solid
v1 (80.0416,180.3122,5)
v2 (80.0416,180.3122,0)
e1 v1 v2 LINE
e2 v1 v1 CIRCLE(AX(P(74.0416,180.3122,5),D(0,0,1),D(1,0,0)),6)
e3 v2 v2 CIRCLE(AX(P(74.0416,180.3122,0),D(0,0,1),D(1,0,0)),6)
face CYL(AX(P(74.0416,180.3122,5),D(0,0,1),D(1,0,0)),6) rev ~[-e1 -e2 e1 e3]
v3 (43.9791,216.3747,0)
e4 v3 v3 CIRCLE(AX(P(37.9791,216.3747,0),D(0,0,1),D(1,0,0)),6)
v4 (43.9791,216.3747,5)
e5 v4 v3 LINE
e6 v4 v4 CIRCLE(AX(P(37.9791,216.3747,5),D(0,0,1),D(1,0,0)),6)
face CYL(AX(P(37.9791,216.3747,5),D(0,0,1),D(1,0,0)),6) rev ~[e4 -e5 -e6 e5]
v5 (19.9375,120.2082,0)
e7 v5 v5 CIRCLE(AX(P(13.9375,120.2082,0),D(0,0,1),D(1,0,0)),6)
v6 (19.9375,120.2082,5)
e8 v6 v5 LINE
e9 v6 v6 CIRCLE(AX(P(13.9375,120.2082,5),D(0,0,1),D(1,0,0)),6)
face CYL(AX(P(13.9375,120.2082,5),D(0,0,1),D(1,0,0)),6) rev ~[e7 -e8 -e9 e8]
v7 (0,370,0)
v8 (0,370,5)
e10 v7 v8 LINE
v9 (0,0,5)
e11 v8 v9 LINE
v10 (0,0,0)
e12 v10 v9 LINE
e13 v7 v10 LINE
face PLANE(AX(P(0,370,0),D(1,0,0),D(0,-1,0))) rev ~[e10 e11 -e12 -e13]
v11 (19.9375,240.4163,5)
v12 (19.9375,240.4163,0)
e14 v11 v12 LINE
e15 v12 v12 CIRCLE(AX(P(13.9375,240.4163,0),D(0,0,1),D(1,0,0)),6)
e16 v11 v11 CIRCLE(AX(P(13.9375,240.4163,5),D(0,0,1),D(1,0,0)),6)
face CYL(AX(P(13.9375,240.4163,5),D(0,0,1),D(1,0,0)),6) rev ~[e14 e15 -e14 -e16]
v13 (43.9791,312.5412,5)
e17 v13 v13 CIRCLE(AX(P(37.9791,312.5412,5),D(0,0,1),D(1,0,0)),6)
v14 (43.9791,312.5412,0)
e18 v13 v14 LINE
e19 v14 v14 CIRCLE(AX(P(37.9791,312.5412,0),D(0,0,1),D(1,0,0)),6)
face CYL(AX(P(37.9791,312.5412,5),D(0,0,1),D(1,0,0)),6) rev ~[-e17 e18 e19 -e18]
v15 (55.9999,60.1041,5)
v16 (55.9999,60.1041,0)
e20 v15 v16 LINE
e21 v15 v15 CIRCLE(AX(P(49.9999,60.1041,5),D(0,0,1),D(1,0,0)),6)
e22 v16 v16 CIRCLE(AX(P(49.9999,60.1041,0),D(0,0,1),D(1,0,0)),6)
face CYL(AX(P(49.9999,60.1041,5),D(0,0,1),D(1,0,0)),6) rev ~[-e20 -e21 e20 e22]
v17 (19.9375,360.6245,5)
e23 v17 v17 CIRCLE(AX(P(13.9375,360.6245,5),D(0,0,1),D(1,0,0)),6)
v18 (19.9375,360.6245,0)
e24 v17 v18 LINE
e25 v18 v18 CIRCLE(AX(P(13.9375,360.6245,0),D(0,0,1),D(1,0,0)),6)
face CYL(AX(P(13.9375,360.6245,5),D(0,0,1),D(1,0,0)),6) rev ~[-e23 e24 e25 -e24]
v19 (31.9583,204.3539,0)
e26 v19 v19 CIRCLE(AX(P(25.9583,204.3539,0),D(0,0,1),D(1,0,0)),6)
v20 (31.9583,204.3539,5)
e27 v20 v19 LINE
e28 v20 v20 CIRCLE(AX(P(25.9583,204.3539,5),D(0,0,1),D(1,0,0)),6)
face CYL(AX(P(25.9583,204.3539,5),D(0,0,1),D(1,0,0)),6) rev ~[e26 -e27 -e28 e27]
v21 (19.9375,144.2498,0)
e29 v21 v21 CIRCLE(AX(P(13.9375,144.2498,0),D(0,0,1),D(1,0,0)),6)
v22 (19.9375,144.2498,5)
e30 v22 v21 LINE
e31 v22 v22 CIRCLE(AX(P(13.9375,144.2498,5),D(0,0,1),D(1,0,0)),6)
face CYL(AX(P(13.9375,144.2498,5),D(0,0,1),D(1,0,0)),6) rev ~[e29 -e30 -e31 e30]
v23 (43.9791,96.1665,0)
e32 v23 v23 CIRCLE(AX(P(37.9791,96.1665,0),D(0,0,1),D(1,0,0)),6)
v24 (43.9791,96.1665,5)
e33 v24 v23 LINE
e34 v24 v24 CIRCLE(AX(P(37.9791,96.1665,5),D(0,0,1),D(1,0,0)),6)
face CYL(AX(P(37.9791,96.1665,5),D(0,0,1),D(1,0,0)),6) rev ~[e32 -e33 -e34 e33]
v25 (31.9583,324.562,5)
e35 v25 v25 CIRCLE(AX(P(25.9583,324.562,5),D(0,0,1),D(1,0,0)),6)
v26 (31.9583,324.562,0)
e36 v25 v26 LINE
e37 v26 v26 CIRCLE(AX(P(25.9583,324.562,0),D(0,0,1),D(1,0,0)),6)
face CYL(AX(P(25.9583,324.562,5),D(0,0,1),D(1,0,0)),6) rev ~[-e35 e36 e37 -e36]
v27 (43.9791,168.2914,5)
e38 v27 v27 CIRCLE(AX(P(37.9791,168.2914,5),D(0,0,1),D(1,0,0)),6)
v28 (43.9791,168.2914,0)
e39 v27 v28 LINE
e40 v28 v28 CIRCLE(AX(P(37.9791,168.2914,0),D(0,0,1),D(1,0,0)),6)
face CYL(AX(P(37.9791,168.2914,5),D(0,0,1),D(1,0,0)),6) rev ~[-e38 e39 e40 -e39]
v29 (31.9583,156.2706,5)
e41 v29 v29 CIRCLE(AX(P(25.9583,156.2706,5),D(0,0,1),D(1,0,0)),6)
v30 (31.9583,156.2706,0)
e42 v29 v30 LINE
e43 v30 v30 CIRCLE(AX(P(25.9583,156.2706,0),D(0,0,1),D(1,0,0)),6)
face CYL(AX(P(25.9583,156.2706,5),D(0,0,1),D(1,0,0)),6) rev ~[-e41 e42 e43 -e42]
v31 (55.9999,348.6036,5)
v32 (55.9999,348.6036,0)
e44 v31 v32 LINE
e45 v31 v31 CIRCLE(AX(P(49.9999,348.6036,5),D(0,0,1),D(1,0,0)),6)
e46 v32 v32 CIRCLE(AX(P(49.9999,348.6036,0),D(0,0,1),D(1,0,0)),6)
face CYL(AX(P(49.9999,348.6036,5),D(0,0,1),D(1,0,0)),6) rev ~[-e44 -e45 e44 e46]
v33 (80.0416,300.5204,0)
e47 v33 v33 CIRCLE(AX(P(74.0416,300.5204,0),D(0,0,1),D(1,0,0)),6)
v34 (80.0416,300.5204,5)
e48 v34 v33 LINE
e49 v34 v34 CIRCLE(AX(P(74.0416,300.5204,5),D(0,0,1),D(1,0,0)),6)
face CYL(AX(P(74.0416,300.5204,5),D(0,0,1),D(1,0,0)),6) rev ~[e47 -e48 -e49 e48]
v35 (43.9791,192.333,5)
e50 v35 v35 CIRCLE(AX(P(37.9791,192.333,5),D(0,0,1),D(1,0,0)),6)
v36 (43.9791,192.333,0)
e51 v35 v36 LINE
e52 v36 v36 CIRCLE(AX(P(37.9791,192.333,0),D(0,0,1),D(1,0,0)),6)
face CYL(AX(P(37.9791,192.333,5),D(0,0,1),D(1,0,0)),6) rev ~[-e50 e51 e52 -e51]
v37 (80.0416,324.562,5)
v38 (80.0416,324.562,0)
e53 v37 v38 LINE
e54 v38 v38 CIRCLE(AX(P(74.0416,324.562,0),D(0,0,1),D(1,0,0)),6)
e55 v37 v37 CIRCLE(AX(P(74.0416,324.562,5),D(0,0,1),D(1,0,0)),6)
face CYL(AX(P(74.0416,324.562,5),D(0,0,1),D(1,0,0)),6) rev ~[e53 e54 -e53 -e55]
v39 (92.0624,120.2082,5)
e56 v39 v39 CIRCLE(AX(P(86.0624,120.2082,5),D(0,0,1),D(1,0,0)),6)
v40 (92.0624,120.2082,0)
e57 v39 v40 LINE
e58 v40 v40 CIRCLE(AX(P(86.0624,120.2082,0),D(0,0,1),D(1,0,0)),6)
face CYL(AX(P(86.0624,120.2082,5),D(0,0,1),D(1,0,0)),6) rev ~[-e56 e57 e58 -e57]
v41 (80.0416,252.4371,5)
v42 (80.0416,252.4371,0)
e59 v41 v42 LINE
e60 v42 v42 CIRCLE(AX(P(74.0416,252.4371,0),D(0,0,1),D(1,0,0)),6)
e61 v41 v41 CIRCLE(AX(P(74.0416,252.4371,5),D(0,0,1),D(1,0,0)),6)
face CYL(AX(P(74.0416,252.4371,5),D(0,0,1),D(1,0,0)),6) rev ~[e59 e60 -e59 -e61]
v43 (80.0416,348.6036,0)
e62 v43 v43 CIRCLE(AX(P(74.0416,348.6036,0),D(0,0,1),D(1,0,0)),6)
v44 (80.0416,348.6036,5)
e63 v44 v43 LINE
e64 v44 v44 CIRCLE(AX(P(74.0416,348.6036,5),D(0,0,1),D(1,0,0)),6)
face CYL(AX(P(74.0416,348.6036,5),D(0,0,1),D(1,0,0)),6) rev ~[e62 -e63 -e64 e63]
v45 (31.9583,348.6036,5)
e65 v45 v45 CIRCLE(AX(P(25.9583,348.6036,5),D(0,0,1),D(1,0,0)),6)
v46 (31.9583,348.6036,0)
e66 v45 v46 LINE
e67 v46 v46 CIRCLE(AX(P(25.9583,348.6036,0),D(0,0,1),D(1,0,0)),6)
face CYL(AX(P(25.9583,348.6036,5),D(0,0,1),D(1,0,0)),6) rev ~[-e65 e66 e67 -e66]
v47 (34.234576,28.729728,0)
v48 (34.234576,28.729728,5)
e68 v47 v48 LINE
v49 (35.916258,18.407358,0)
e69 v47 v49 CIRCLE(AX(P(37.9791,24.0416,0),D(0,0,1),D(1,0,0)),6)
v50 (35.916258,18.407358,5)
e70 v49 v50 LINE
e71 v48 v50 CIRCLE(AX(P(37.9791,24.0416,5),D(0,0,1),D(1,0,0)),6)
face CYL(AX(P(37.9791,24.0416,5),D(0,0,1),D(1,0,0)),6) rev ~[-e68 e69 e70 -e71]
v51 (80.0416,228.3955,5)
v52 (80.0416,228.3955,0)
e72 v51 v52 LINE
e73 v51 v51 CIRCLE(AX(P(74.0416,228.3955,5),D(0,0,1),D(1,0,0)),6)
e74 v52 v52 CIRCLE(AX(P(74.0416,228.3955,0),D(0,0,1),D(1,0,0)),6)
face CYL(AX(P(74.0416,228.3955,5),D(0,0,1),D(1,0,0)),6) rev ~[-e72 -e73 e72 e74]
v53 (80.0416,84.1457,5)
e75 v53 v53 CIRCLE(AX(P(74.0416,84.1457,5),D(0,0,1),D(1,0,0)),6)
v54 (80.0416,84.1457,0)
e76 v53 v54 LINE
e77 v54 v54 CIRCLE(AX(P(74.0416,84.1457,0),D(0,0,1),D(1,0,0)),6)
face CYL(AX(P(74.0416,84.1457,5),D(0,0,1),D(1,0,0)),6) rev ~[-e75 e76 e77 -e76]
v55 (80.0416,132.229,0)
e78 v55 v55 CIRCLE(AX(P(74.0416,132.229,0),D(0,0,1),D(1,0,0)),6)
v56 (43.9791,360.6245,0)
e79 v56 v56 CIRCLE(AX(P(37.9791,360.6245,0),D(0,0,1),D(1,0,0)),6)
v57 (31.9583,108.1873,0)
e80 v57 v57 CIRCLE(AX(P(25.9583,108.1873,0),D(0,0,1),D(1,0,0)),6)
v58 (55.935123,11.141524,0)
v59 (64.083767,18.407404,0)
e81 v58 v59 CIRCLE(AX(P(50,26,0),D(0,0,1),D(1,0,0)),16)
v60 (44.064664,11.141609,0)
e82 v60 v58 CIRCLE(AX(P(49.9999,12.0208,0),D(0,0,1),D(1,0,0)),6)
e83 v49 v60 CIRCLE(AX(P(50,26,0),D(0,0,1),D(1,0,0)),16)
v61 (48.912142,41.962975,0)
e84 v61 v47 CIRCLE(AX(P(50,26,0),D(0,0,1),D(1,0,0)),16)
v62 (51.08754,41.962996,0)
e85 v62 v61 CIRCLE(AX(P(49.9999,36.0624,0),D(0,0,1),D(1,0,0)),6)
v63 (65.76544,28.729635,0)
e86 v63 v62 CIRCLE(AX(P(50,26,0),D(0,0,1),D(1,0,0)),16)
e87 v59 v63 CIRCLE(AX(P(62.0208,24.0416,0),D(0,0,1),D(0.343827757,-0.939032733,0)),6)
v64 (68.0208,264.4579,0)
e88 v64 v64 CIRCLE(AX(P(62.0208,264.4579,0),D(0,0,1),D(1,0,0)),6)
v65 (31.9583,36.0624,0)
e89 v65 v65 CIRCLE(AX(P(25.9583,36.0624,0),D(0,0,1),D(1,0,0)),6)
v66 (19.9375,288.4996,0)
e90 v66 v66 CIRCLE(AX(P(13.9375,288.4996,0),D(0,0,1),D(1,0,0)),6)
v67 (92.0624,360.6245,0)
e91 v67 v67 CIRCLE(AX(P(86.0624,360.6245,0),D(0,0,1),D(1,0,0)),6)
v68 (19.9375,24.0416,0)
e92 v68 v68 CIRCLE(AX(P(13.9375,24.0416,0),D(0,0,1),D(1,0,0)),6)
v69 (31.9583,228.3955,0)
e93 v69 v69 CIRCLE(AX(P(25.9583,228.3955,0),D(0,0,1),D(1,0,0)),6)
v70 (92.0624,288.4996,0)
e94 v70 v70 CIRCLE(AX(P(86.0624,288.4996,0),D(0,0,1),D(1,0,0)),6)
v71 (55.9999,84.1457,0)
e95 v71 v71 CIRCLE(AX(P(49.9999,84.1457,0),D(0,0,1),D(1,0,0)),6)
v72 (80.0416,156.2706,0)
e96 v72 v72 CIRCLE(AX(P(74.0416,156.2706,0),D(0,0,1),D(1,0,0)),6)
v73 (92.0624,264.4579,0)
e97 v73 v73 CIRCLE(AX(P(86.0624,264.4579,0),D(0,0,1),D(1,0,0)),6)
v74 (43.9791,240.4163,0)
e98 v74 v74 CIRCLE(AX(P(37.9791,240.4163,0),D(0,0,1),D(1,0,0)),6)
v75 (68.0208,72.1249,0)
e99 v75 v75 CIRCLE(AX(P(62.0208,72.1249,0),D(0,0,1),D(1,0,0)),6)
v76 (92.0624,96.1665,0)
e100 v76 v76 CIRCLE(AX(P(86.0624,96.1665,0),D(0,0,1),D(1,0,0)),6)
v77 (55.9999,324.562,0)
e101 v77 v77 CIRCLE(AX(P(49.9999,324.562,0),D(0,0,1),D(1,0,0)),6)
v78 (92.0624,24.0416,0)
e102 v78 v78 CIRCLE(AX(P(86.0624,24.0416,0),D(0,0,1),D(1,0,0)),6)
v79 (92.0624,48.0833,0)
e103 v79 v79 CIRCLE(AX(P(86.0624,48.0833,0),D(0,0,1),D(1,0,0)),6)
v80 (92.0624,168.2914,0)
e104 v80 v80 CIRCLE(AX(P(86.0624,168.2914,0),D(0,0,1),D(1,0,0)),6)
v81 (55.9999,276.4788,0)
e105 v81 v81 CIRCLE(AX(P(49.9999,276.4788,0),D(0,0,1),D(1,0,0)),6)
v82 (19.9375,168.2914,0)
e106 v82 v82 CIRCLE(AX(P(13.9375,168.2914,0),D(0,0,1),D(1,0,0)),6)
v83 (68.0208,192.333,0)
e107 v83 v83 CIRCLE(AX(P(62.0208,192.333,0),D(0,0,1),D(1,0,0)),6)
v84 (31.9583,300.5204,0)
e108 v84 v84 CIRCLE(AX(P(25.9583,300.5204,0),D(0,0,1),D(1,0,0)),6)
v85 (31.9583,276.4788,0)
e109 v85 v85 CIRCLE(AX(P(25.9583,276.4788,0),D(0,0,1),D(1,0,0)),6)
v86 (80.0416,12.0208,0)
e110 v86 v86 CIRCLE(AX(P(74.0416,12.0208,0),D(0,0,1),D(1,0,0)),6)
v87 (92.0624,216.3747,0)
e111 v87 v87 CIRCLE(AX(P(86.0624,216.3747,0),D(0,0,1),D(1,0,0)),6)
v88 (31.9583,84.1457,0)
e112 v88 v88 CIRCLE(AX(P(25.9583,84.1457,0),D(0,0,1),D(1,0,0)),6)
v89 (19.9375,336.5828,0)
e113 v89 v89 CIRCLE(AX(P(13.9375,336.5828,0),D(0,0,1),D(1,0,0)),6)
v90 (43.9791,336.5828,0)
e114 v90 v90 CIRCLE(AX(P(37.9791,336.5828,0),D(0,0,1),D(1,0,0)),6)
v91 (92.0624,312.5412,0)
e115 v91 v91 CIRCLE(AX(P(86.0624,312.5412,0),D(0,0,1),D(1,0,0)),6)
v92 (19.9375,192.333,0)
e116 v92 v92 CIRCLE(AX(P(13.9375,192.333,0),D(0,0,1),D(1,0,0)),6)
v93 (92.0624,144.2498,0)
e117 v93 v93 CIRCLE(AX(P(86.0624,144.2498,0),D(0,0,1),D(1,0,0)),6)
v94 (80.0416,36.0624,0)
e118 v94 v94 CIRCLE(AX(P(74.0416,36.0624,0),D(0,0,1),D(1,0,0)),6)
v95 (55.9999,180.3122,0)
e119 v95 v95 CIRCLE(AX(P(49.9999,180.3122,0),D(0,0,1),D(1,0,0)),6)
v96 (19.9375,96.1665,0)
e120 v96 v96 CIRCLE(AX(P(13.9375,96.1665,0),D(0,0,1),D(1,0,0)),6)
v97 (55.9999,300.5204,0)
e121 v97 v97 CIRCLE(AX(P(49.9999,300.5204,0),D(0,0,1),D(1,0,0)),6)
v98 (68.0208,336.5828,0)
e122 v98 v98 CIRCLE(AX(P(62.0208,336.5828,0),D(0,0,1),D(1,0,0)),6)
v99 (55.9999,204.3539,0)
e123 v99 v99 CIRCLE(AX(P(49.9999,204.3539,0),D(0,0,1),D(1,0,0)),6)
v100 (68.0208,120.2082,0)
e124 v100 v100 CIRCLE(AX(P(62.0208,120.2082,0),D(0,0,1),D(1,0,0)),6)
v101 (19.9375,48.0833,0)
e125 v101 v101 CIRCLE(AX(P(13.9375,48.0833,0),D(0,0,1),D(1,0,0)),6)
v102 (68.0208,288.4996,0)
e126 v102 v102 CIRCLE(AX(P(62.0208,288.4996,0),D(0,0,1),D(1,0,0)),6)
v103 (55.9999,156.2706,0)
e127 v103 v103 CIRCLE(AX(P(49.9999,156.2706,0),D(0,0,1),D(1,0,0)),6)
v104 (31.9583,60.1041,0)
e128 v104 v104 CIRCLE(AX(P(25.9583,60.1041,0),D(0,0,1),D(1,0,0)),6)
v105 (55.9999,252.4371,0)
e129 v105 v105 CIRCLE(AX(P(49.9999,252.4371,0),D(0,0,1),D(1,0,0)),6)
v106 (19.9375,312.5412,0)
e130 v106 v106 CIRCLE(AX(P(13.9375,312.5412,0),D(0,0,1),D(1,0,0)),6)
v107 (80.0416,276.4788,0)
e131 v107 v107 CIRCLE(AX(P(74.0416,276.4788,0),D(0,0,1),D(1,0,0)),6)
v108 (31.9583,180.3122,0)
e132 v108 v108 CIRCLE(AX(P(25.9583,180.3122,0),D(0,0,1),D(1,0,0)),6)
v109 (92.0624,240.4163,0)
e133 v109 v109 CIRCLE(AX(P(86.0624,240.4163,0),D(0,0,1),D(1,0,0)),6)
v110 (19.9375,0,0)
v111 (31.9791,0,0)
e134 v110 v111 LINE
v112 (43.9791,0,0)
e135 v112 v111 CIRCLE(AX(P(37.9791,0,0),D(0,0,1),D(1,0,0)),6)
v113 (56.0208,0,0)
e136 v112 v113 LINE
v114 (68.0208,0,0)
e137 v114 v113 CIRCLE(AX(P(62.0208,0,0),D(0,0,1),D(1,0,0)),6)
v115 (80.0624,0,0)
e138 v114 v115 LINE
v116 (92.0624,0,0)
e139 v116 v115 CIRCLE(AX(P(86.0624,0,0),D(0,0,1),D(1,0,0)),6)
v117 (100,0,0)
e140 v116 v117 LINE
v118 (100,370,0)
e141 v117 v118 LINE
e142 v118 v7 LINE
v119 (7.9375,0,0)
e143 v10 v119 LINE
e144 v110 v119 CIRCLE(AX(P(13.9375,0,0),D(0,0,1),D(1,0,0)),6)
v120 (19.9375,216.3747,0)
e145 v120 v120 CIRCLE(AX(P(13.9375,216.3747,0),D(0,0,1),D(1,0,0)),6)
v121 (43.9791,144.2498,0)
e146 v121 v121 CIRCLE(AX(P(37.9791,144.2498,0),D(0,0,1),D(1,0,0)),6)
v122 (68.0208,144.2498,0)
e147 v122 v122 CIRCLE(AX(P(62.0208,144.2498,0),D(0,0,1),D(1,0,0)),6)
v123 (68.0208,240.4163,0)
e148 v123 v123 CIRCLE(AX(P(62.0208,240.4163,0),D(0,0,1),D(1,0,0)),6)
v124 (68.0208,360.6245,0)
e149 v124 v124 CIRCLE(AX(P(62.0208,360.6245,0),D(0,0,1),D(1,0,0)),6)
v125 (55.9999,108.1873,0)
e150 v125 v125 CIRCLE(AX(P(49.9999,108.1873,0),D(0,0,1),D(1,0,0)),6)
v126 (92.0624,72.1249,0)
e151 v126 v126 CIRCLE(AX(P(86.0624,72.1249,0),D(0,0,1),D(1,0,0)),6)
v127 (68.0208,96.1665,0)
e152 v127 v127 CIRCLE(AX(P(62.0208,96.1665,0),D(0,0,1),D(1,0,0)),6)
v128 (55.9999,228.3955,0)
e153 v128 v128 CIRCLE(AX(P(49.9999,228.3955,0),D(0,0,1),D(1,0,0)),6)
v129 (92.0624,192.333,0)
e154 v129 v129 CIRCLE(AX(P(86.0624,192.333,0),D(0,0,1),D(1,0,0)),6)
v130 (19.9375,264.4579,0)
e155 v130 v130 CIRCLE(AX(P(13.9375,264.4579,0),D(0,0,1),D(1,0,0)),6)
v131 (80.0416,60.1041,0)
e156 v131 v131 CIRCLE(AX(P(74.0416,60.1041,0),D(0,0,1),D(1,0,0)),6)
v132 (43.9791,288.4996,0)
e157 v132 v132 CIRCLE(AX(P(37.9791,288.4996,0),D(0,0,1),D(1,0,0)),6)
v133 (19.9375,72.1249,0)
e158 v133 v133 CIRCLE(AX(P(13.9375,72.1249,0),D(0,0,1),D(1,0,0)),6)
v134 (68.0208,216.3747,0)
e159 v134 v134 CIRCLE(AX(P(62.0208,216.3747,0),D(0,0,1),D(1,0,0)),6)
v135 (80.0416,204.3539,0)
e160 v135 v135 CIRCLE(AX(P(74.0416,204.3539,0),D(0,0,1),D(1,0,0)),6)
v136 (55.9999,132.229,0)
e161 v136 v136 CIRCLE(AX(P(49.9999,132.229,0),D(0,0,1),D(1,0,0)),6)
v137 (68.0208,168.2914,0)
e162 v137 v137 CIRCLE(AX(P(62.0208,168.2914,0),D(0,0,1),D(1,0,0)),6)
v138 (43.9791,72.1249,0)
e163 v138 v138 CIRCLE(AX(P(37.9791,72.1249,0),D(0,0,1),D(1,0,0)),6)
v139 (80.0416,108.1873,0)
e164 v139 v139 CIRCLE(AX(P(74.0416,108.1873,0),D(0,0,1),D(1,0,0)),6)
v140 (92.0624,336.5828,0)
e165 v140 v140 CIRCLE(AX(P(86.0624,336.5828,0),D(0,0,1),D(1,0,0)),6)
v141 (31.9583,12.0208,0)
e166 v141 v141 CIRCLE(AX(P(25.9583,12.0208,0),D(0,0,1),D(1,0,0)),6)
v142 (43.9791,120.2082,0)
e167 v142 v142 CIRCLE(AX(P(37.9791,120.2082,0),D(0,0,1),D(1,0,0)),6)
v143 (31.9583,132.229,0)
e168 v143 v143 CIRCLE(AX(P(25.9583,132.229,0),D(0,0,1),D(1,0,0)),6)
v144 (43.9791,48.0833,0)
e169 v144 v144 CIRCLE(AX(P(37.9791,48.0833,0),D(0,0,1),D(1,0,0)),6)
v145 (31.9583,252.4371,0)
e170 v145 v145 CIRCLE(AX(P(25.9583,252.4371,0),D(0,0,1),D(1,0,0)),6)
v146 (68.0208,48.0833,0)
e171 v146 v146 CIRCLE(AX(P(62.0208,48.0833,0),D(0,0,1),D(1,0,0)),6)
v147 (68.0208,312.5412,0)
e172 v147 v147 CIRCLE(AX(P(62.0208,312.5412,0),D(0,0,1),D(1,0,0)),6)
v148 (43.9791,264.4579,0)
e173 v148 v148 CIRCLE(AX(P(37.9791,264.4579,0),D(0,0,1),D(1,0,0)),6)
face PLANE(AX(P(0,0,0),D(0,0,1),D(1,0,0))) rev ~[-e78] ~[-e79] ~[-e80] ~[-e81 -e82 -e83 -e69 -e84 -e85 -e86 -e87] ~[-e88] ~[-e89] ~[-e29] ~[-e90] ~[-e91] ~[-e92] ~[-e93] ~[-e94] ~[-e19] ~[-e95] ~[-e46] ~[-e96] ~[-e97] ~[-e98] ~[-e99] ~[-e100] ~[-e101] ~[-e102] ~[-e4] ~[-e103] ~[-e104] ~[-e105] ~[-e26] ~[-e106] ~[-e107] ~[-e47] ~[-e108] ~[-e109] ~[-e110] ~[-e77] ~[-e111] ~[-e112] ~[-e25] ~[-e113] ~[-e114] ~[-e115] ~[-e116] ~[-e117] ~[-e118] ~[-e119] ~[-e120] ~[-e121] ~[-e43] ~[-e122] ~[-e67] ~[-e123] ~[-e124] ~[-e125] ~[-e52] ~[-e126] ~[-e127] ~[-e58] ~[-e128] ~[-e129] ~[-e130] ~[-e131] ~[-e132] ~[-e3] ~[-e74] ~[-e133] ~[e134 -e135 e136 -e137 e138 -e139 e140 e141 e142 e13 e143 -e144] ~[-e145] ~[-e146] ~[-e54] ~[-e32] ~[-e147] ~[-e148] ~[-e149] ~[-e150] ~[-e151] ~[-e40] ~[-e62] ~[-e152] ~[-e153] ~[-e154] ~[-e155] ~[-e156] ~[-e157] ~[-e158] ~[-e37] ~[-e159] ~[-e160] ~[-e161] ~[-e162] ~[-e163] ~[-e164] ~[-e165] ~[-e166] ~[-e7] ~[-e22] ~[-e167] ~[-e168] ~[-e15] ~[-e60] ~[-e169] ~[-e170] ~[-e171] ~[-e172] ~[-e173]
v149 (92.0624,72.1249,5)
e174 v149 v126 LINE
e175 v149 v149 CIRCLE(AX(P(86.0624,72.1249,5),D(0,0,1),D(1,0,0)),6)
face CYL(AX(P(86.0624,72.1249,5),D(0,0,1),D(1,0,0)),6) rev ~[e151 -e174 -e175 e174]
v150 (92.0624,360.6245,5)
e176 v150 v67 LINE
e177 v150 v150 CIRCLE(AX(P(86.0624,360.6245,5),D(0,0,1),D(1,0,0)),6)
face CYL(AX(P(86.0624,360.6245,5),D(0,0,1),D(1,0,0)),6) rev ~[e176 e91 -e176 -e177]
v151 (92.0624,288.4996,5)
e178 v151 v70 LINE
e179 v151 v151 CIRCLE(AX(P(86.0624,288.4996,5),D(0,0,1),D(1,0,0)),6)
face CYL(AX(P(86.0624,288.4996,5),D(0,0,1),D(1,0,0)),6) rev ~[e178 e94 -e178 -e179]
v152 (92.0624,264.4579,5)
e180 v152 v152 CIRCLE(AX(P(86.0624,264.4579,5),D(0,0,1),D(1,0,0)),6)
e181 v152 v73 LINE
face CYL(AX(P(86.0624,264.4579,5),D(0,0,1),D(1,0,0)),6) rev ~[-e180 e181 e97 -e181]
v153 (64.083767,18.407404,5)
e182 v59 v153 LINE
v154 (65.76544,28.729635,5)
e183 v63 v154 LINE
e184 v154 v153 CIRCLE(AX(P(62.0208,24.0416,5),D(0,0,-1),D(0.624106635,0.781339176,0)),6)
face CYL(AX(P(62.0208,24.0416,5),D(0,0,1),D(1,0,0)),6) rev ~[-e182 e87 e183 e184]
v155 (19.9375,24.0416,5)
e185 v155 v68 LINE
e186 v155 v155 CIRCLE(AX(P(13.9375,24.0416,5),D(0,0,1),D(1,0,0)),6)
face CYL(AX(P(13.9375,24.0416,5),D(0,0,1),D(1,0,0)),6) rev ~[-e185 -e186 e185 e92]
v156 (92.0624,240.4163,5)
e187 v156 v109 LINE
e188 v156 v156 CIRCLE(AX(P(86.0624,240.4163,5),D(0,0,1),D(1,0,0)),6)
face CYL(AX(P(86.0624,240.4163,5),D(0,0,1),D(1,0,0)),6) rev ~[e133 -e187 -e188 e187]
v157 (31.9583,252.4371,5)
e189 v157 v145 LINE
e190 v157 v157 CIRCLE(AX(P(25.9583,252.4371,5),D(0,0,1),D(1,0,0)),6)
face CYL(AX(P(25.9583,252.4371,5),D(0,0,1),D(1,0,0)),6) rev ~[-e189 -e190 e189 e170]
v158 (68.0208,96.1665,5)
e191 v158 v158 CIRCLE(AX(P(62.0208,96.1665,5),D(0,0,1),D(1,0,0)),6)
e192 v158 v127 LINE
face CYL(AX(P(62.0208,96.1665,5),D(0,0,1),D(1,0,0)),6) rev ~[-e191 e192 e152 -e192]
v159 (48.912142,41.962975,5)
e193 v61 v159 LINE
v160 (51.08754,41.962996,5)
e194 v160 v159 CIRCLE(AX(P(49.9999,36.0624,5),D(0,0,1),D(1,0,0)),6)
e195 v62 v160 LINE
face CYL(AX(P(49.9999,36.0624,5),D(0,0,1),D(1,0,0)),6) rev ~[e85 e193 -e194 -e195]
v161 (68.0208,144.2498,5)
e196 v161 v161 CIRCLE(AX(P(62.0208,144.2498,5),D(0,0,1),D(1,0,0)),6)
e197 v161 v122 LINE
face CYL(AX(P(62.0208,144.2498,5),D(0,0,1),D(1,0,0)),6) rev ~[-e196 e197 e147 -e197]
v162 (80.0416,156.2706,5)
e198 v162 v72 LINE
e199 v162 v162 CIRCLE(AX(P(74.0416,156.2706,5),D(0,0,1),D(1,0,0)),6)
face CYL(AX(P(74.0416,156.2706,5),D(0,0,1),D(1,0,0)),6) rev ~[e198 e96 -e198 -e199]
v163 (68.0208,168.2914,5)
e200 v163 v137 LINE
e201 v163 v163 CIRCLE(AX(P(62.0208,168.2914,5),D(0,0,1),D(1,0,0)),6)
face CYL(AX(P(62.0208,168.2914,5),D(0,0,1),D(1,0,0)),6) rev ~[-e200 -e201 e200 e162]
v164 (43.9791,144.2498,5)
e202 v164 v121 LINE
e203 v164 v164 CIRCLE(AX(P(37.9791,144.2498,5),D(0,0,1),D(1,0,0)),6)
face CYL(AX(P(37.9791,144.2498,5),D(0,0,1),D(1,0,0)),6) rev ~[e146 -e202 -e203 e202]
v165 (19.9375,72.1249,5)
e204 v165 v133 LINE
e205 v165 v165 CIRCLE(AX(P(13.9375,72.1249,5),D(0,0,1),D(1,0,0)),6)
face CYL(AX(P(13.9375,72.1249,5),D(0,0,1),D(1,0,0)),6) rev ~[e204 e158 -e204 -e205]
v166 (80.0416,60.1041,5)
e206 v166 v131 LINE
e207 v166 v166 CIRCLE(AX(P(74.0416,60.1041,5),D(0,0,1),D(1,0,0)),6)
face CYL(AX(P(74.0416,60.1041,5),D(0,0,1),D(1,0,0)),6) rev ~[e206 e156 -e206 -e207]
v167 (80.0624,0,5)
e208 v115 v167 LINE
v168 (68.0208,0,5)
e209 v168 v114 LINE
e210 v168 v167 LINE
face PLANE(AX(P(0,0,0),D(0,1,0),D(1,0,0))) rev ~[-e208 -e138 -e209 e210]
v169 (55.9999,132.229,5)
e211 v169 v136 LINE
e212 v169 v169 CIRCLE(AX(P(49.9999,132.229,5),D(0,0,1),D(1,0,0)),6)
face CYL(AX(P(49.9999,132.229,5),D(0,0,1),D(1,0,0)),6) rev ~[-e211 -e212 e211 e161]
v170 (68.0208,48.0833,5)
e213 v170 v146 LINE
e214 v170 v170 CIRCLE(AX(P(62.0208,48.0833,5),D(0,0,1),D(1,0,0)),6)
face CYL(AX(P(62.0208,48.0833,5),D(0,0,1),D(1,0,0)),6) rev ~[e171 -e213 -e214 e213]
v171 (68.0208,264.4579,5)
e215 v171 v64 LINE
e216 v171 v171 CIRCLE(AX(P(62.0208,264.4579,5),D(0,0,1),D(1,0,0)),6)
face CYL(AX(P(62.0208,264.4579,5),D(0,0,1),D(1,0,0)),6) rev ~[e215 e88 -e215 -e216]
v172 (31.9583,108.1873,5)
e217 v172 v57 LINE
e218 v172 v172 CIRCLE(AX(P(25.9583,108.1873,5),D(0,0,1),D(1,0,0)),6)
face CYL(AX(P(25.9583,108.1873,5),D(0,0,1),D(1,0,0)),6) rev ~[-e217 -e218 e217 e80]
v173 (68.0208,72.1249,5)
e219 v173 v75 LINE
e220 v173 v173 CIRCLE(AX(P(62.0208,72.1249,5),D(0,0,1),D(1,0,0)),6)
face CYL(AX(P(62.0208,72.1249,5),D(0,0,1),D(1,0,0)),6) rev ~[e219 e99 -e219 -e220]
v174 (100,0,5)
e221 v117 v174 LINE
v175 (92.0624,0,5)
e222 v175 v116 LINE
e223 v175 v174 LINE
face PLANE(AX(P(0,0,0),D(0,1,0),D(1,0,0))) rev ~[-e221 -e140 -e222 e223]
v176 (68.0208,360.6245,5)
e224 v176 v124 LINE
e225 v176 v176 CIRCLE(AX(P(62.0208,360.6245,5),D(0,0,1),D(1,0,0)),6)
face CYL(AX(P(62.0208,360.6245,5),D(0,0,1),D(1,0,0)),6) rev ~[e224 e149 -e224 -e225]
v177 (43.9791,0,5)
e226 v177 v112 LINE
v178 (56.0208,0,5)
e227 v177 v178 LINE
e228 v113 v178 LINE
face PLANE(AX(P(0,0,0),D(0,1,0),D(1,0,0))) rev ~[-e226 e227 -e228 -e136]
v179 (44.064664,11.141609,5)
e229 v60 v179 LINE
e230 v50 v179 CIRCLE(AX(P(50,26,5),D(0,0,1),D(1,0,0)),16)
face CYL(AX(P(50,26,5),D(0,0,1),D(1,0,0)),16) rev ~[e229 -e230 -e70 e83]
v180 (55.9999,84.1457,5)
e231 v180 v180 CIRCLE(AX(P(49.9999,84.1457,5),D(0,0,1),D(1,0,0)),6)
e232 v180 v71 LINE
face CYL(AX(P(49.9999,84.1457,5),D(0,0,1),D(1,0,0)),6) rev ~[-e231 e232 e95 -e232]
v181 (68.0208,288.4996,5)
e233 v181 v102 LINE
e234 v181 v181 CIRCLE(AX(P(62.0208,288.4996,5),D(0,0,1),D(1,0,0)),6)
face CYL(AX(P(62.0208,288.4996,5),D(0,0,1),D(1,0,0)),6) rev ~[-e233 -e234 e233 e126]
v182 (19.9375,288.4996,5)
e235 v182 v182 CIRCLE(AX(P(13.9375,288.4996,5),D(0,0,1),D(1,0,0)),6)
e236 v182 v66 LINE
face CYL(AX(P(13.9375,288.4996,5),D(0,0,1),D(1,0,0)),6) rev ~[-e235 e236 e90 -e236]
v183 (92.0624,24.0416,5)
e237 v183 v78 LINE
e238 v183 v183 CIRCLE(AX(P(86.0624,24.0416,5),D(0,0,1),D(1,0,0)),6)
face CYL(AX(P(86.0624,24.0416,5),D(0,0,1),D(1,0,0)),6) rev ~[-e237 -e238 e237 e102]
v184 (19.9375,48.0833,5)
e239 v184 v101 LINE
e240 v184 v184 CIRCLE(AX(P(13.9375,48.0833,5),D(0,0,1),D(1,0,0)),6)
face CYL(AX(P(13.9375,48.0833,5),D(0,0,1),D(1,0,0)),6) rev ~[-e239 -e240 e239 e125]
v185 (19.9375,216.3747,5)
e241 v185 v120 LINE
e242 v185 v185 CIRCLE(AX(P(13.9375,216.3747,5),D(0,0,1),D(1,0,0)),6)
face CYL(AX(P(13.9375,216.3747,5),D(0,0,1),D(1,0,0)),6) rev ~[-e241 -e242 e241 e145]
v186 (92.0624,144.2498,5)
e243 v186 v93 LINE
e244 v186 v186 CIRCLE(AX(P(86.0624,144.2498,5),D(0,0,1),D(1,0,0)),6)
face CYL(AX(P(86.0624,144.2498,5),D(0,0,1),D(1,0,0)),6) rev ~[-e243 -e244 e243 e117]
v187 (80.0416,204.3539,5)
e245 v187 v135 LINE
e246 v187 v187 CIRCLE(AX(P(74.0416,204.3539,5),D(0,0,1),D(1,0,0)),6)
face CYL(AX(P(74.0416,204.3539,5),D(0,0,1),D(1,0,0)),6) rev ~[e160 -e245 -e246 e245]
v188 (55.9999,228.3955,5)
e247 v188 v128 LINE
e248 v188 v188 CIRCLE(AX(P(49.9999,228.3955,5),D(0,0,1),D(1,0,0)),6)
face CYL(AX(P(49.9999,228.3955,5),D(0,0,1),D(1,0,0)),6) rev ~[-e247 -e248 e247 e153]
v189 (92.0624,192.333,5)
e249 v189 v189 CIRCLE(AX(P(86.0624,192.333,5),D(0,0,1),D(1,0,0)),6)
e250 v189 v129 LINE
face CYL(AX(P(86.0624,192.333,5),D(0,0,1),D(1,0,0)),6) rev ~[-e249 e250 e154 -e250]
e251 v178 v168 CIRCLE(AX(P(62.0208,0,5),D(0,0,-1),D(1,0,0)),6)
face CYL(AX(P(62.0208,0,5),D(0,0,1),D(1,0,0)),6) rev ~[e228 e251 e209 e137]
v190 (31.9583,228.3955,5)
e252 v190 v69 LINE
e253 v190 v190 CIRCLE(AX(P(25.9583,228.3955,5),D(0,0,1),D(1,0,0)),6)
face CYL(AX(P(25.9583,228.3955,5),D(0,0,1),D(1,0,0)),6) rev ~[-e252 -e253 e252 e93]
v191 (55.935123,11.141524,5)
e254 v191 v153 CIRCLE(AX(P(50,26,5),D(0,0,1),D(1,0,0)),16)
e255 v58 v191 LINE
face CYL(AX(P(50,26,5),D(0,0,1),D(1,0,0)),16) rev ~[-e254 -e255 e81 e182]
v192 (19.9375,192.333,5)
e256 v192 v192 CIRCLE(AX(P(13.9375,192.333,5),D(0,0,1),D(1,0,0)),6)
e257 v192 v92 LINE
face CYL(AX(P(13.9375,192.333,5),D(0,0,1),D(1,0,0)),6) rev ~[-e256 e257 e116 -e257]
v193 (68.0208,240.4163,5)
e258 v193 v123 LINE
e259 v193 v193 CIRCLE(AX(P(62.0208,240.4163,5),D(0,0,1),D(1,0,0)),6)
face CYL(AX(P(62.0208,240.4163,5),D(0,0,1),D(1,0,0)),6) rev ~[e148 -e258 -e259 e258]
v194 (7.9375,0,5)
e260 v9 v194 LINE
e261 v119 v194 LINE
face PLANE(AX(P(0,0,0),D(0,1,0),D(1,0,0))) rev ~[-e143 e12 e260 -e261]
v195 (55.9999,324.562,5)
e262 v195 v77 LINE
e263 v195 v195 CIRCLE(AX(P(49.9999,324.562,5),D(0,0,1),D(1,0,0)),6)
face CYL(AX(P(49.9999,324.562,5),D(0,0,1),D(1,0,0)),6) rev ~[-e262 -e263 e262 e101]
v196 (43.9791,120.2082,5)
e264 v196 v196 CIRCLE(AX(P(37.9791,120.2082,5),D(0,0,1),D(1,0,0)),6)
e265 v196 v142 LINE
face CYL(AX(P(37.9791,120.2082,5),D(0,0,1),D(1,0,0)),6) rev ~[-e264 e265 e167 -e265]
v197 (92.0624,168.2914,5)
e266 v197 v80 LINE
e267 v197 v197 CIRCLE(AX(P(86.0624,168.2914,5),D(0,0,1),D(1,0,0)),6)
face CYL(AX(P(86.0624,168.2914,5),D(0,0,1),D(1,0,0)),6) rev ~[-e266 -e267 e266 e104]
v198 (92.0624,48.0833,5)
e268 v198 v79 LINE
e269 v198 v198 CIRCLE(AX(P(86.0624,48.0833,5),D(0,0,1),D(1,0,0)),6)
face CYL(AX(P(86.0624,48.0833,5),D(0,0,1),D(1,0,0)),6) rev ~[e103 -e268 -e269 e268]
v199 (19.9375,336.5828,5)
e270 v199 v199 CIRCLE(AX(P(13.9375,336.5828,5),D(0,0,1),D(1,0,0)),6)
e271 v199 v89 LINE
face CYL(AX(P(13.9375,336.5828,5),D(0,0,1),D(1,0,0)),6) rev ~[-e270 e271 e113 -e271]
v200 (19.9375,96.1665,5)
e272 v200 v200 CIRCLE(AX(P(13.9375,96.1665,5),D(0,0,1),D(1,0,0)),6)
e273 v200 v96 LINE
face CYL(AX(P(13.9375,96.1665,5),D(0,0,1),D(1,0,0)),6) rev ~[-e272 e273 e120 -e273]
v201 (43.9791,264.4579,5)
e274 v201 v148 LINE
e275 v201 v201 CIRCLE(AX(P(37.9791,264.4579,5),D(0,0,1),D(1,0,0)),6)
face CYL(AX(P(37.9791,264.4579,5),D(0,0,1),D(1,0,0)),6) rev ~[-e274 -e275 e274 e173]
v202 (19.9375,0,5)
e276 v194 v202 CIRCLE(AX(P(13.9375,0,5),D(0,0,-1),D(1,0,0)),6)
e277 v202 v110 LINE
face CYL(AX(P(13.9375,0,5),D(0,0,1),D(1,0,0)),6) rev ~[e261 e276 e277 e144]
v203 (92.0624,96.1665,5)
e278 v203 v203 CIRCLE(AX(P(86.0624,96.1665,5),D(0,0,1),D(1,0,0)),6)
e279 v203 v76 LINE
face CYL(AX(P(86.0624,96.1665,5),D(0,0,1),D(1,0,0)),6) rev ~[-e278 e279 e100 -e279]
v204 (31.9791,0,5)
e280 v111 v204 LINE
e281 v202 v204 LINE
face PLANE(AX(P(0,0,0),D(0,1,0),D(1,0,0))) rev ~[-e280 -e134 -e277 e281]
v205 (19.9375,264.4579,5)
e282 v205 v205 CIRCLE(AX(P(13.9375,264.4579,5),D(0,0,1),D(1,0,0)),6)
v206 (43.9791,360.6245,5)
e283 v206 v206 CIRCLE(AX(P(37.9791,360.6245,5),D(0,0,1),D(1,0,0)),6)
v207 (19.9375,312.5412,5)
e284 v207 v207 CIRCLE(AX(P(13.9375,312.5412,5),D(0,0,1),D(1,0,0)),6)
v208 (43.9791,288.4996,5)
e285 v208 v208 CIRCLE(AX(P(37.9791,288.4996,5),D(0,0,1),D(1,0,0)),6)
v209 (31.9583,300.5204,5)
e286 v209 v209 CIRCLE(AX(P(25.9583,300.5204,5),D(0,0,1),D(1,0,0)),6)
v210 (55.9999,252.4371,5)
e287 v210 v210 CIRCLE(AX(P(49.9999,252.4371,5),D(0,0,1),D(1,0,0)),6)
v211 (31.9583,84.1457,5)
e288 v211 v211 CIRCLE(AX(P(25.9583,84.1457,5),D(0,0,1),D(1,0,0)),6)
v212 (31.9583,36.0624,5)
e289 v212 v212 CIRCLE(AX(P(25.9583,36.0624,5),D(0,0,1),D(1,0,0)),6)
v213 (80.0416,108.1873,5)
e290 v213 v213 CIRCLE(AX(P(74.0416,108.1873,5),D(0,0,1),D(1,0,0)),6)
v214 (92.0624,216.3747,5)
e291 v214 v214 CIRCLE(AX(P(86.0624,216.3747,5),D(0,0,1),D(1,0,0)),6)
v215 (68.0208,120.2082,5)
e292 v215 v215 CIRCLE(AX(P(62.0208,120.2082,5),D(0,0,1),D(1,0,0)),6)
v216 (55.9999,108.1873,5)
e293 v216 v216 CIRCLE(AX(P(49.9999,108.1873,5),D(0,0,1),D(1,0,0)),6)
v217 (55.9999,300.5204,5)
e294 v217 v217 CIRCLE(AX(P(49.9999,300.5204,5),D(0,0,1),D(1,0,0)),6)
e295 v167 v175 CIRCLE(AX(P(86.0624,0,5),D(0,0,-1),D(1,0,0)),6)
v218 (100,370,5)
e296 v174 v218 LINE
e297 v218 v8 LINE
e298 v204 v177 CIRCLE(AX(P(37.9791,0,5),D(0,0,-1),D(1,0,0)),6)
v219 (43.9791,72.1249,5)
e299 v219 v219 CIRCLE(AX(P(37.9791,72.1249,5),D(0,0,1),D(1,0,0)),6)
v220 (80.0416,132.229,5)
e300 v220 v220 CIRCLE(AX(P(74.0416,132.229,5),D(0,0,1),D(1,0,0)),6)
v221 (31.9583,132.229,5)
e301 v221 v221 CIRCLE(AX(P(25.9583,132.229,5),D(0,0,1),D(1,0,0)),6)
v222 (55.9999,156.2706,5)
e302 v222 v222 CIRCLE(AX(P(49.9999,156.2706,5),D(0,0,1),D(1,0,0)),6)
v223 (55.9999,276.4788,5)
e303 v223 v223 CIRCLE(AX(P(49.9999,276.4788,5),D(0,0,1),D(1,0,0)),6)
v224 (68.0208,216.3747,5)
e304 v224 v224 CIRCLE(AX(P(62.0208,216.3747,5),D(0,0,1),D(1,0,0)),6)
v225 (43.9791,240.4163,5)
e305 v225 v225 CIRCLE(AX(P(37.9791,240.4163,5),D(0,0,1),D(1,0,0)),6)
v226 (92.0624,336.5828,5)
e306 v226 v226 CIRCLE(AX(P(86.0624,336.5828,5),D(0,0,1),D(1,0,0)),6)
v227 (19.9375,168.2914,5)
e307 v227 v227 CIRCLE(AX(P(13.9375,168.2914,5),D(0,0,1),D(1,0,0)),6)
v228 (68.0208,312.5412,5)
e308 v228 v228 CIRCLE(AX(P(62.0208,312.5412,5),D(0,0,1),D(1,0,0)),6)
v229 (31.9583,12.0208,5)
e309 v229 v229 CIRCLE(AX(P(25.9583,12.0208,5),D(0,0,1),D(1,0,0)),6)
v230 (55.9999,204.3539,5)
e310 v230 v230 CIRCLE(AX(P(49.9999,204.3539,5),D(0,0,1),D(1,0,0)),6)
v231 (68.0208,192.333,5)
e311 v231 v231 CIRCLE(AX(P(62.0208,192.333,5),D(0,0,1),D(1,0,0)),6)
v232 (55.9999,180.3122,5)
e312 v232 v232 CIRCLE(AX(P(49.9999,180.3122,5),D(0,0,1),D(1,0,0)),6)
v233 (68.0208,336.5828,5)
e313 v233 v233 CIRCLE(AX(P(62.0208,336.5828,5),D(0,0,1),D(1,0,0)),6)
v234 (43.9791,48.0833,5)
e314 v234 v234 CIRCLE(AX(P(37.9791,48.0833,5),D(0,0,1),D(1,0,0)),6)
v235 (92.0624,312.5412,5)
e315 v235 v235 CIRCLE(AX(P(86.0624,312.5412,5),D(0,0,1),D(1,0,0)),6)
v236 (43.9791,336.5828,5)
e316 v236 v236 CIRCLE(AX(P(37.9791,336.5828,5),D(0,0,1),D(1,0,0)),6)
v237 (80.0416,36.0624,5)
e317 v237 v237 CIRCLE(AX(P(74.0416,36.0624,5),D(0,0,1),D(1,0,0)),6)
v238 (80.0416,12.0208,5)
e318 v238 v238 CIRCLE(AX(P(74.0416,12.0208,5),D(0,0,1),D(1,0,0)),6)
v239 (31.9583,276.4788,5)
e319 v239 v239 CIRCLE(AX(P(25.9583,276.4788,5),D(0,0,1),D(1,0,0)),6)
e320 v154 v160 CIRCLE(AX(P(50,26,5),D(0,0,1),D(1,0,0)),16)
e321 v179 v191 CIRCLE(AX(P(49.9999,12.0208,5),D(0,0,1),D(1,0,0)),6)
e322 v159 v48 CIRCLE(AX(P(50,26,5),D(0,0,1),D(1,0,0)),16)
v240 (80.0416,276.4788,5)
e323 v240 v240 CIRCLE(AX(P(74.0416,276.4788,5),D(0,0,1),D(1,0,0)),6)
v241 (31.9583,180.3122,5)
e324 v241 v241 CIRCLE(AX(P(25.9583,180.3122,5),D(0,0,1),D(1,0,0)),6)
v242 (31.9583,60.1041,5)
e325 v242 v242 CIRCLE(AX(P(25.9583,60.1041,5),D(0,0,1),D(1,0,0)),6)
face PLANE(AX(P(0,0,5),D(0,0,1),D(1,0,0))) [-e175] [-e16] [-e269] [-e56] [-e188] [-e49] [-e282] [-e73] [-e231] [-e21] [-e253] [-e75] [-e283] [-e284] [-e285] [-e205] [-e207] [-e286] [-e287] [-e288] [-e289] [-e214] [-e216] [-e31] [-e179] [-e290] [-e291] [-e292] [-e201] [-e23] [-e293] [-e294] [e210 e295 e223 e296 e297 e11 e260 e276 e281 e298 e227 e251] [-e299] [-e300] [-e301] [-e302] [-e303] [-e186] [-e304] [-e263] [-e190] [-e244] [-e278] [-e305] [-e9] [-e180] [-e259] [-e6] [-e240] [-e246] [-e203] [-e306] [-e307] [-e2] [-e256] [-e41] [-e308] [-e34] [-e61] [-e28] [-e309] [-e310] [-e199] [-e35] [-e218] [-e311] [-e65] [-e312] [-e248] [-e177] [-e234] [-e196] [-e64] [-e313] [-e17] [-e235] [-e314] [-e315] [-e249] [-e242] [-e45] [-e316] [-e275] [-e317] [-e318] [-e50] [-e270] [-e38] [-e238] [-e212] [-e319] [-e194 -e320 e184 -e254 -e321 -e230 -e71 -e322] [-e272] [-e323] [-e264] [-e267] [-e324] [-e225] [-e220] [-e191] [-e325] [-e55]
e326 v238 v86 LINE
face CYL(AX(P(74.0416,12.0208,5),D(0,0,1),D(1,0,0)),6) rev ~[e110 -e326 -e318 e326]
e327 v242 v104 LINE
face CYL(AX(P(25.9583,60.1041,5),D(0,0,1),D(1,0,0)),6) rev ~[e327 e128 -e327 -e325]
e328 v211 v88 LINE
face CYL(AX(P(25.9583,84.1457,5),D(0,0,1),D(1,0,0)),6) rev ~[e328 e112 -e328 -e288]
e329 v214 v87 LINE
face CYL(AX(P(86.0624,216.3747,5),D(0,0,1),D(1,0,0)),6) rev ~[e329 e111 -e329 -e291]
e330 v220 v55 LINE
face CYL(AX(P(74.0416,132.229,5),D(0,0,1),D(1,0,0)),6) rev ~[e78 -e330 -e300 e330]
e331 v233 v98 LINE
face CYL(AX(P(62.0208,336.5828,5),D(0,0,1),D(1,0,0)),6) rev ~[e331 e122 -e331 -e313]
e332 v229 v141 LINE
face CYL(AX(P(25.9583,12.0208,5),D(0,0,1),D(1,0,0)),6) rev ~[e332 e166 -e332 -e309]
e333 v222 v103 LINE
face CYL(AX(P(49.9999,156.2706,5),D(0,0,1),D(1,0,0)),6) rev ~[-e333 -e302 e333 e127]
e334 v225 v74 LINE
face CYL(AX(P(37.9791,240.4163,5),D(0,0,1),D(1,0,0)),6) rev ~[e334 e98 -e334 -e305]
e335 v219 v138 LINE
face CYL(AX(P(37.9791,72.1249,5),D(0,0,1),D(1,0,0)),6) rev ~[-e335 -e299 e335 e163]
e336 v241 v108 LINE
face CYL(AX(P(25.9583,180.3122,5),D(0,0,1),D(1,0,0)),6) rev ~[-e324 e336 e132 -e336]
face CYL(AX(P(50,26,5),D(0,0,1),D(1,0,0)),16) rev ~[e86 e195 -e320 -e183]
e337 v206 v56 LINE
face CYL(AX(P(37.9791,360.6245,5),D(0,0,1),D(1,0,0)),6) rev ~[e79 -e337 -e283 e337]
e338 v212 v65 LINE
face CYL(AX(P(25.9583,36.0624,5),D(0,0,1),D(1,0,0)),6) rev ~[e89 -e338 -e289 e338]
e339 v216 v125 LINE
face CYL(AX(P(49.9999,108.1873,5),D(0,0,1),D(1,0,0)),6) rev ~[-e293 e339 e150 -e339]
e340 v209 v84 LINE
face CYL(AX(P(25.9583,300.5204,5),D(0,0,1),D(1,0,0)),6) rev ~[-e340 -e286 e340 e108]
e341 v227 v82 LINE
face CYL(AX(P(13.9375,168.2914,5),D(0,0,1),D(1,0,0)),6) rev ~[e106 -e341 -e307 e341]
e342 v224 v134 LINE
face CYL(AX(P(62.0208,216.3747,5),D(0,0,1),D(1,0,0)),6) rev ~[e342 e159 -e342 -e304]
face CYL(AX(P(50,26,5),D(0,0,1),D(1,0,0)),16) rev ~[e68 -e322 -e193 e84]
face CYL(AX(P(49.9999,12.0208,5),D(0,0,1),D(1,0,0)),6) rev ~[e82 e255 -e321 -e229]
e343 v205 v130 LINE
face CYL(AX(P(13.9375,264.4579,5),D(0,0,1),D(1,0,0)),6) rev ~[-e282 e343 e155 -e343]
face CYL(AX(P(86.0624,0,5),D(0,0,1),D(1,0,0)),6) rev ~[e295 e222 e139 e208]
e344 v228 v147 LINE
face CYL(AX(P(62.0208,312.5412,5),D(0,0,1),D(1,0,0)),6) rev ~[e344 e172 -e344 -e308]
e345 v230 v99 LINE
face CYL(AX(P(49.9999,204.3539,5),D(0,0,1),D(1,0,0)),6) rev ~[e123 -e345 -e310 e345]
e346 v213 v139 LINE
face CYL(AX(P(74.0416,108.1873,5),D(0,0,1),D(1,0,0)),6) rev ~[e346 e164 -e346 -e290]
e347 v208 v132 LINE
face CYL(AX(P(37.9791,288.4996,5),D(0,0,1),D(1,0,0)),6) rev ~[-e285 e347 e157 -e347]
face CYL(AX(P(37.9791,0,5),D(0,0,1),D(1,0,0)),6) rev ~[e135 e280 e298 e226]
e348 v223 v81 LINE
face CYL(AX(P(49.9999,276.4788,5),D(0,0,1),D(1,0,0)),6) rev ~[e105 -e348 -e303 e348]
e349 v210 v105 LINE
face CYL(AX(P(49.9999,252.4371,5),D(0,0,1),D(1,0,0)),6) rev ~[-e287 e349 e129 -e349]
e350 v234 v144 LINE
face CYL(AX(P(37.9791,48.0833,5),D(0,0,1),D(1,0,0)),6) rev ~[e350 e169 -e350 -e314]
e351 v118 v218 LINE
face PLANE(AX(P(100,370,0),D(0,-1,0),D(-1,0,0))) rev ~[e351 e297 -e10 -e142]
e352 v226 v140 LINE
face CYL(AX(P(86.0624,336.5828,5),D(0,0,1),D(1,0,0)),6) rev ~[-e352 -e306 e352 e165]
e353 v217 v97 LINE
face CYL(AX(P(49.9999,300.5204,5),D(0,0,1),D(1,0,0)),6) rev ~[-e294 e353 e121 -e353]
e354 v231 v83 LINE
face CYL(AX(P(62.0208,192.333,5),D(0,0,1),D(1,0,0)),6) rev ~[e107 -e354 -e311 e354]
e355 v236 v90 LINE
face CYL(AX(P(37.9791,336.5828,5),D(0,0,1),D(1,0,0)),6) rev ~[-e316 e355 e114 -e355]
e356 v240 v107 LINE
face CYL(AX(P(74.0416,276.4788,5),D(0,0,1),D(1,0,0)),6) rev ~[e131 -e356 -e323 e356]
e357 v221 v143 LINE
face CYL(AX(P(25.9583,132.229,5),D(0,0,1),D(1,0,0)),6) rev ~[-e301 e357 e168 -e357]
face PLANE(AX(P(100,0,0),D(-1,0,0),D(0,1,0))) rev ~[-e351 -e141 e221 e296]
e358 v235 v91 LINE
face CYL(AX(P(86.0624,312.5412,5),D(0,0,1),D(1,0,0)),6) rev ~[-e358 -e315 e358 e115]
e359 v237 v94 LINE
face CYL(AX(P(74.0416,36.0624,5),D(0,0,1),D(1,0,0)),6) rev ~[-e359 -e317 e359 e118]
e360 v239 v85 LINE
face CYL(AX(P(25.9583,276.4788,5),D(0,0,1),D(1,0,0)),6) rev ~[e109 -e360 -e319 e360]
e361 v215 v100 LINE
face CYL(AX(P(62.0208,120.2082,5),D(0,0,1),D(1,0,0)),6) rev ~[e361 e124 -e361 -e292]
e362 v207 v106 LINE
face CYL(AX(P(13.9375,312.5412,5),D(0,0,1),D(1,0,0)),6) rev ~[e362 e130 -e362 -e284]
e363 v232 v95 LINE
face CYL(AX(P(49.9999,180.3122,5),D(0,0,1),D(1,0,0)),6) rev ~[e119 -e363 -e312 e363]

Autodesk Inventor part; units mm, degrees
ref_plane "YZ Plane" through (0, 0, 0) normal (1, 0, 0) x (0, 1, 0)
ref_plane "XZ Plane" through (0, 0, 0) normal (0, 1, 0) x (-1, 0, 0)
ref_plane "XY Plane" through (0, 0, 0) normal (0, 0, 1) x (1, 0, 0)
sketch "Sketch1" plane through (0, 0, 0) normal (0, 0, 1) x (1, 0, 0)
  line L0 (0, 0) -> (100, 0)
  line L1 (100, 0) -> (100, 370)
  line L2 (100, 370) -> (0, 370)
  line L3 (0, 370) -> (0, 0)
  dimension "d0" = 100
  dimension "d1" = 370
extrude "Extrusion1" add sketch "Sketch1" along normal blind 5
sketch "Sketch2" plane through (0, 0, 5) normal (0, 0, 1) x (1, 0, 0)
  circle A0 centre (13.9375, 0) radius 6
  line L0 (0, 370) -> (0, 0) projected
  line L1 (0, 0) -> (100, 0) projected
  circle A1 centre (25.9583, 12.0208) radius 6
  circle A2 centre (13.9375, 24.0416) radius 6
  circle A3 centre (13.9375, 48.0833) radius 6
  circle A4 centre (13.9375, 72.1249) radius 6
  circle A5 centre (13.9375, 96.1665) radius 6
  circle A6 centre (13.9375, 120.2082) radius 6
  circle A7 centre (13.9375, 144.2498) radius 6
  circle A8 centre (13.9375, 168.2914) radius 6
  circle A9 centre (13.9375, 192.333) radius 6
  circle A10 centre (13.9375, 216.3747) radius 6
  circle A11 centre (13.9375, 240.4163) radius 6
  circle A12 centre (13.9375, 264.4579) radius 6
  circle A13 centre (13.9375, 288.4996) radius 6
  circle A14 centre (13.9375, 312.5412) radius 6
  circle A15 centre (13.9375, 336.5828) radius 6
  circle A16 centre (37.9791, 0) radius 6
  circle A17 centre (37.9791, 24.0416) radius 6
  circle A18 centre (37.9791, 48.0833) radius 6
  circle A19 centre (37.9791, 72.1249) radius 6
  circle A20 centre (37.9791, 96.1665) radius 6
  circle A21 centre (37.9791, 120.2082) radius 6
  circle A22 centre (37.9791, 144.2498) radius 6
  circle A23 centre (37.9791, 168.2914) radius 6
  circle A24 centre (37.9791, 192.333) radius 6
  circle A25 centre (37.9791, 216.3747) radius 6
  circle A26 centre (37.9791, 240.4163) radius 6
  circle A27 centre (37.9791, 264.4579) radius 6
  circle A28 centre (37.9791, 288.4996) radius 6
  circle A29 centre (37.9791, 312.5412) radius 6
  circle A30 centre (37.9791, 336.5828) radius 6
  circle A31 centre (62.0208, 0) radius 6
  circle A32 centre (62.0208, 24.0416) radius 6
  circle A33 centre (62.0208, 48.0833) radius 6
  circle A34 centre (62.0208, 72.1249) radius 6
  circle A35 centre (62.0208, 96.1665) radius 6
  circle A36 centre (62.0208, 120.2082) radius 6
  circle A37 centre (62.0208, 144.2498) radius 6
  circle A38 centre (62.0208, 168.2914) radius 6
  circle A39 centre (62.0208, 192.333) radius 6
  circle A40 centre (62.0208, 216.3747) radius 6
  circle A41 centre (62.0208, 240.4163) radius 6
  circle A42 centre (62.0208, 264.4579) radius 6
  circle A43 centre (62.0208, 288.4996) radius 6
  circle A44 centre (62.0208, 312.5412) radius 6
  circle A45 centre (62.0208, 336.5828) radius 6
  circle A46 centre (86.0624, 0) radius 6
  circle A47 centre (86.0624, 24.0416) radius 6
  circle A48 centre (86.0624, 48.0833) radius 6
  circle A49 centre (86.0624, 72.1249) radius 6
  circle A50 centre (86.0624, 96.1665) radius 6
  circle A51 centre (86.0624, 120.2082) radius 6
  circle A52 centre (86.0624, 144.2498) radius 6
  circle A53 centre (86.0624, 168.2914) radius 6
  circle A54 centre (86.0624, 192.333) radius 6
  circle A55 centre (86.0624, 216.3747) radius 6
  circle A56 centre (86.0624, 240.4163) radius 6
  circle A57 centre (86.0624, 264.4579) radius 6
  circle A58 centre (86.0624, 288.4996) radius 6
  circle A59 centre (86.0624, 312.5412) radius 6
  circle A60 centre (86.0624, 336.5828) radius 6
  circle A61 centre (25.9583, 36.0624) radius 6
  circle A62 centre (25.9583, 60.1041) radius 6
  circle A63 centre (25.9583, 84.1457) radius 6
  circle A64 centre (25.9583, 108.1873) radius 6
  circle A65 centre (25.9583, 132.229) radius 6
  circle A66 centre (25.9583, 156.2706) radius 6
  circle A67 centre (25.9583, 180.3122) radius 6
  circle A68 centre (25.9583, 204.3539) radius 6
  circle A69 centre (25.9583, 228.3955) radius 6
  circle A70 centre (25.9583, 252.4371) radius 6
  circle A71 centre (25.9583, 276.4788) radius 6
  circle A72 centre (25.9583, 300.5204) radius 6
  circle A73 centre (25.9583, 324.562) radius 6
  circle A74 centre (25.9583, 348.6036) radius 6
  circle A75 centre (49.9999, 12.0208) radius 6
  circle A76 centre (49.9999, 36.0624) radius 6
  circle A77 centre (49.9999, 60.1041) radius 6
  circle A78 centre (49.9999, 84.1457) radius 6
  circle A79 centre (49.9999, 108.1873) radius 6
  circle A80 centre (49.9999, 132.229) radius 6
  circle A81 centre (49.9999, 156.2706) radius 6
  circle A82 centre (49.9999, 180.3122) radius 6
  circle A83 centre (49.9999, 204.3539) radius 6
  circle A84 centre (49.9999, 228.3955) radius 6
  circle A85 centre (49.9999, 252.4371) radius 6
  circle A86 centre (49.9999, 276.4788) radius 6
  circle A87 centre (49.9999, 300.5204) radius 6
  circle A88 centre (49.9999, 324.562) radius 6
  circle A89 centre (49.9999, 348.6036) radius 6
  circle A90 centre (74.0416, 12.0208) radius 6
  circle A91 centre (74.0416, 36.0624) radius 6
  circle A92 centre (74.0416, 60.1041) radius 6
  circle A93 centre (74.0416, 84.1457) radius 6
  circle A94 centre (74.0416, 108.1873) radius 6
  circle A95 centre (74.0416, 132.229) radius 6
  circle A96 centre (74.0416, 156.2706) radius 6
  circle A97 centre (74.0416, 180.3122) radius 6
  circle A98 centre (74.0416, 204.3539) radius 6
  circle A99 centre (74.0416, 228.3955) radius 6
  circle A100 centre (74.0416, 252.4371) radius 6
  circle A101 centre (74.0416, 276.4788) radius 6
  circle A102 centre (74.0416, 300.5204) radius 6
  circle A103 centre (74.0416, 324.562) radius 6
  circle A104 centre (74.0416, 348.6036) radius 6
  line L2 (100, 0) -> (100, 370) projected
  circle A105 centre (13.9375, 360.6245) radius 6
  circle A106 centre (37.9791, 360.6245) radius 6
  circle A107 centre (62.0208, 360.6245) radius 6
  circle A108 centre (86.0624, 360.6245) radius 6
  dimension "d24" = 13.9375
  dimension "d25" = 0
  dimension "d26" = 12.0208
  dimension "d27" = 12.0208
  dimension "d34" = 24.0416
  dimension "d37" = 24.0416
  dimension "d42" = 24.0416
  dimension "d45" = 24.0416
  dimension "d48" = 13.9376
sketch "Sketch3" plane through (0, 0, 5) normal (0, 0, 1) x (1, 0, 0)
  circle A0 centre (50, 26) radius 16 projected
  point P0 (0, 0)
extrude "Extrusion3" cut sketch "Sketch3" against normal blind 5
extrude "Extrusion4" cut sketch "Sketch2" against normal blind 5
equation "\"d0\" = tankw"
equation "\"d1\" = tankh"
equation "\"d2\" = pvct"
equation "\"d24\" = sidedist"
equation "\"d26\" = gratespacing"
equation "\"d27\" = gratespacing"
equation "\"d34\" = 2 * gratespacing"
equation "\"d37\" = 2 * gratespacing"
equation "\"d42\" = 2 * gratespacing"
equation "\"d45\" = 2 * gratespacing"
equation "\"d30\" = pvct"
equation "\"d49\" = pvct"
equation "\"lcsd\" = 19.05"
equation "\"lcwd1\" = 25"
equation "\"lcwd2\" = 34"
equation "\"lch1\" = 39"
equation "\"lcwd3\" = 43"
equation "\"dia1\" = 6"
equation "\"td\" = 18"
equation "\"bhh\" = 6"
equation "\"sw\" = 25"
equation "\"sh\" = 31"
equation "\"spacert\" = 2"
equation "\"pvct\" = 5"
equation "\"tankw\" = 100"
equation "\"tankh\" = 370"
equation "\"tankl\" = 379"
equation "\"dia3\" = 8"
equation "\"dia4\" = 11"
equation "\"play\" = 9"
equation "\"holeh\" = 26"
equation "\"surroundt\" = 5"
equation "\"slack\" = 0.5"
equation "\"play2\" = 3"
equation "\"diaoverflow\" = 25"
equation "\"diacucl\" = 32"
equation "\"diawater\" = 25"
equation "\"diaph\" = 32"
equation "\"diaair\" = 32"
equation "\"diasurroundhole\" = 42"
equation "\"diagrate\" = 12"
equation "\"gratespacing\" = 12.02082"
equation "\"sidedist\" = 13.9375"
equation "\"bottomdist\" = 9.6355"
equation "\"diahcl\" = 32"
equation "\"bracketwtop\" = 6"
equation "\"bracketwbottom\" = 6"
equation "\"nett\" = 1"
equation "\"nethole\" = 16"
equation "\"nettop\" = 7"
equation "\"netside\" = 3.5"
equation "\"netholespacing\" = 2"
equation "\"diaetape\" = 32"
properties part number "tank_front" material "PVC-Piping"
